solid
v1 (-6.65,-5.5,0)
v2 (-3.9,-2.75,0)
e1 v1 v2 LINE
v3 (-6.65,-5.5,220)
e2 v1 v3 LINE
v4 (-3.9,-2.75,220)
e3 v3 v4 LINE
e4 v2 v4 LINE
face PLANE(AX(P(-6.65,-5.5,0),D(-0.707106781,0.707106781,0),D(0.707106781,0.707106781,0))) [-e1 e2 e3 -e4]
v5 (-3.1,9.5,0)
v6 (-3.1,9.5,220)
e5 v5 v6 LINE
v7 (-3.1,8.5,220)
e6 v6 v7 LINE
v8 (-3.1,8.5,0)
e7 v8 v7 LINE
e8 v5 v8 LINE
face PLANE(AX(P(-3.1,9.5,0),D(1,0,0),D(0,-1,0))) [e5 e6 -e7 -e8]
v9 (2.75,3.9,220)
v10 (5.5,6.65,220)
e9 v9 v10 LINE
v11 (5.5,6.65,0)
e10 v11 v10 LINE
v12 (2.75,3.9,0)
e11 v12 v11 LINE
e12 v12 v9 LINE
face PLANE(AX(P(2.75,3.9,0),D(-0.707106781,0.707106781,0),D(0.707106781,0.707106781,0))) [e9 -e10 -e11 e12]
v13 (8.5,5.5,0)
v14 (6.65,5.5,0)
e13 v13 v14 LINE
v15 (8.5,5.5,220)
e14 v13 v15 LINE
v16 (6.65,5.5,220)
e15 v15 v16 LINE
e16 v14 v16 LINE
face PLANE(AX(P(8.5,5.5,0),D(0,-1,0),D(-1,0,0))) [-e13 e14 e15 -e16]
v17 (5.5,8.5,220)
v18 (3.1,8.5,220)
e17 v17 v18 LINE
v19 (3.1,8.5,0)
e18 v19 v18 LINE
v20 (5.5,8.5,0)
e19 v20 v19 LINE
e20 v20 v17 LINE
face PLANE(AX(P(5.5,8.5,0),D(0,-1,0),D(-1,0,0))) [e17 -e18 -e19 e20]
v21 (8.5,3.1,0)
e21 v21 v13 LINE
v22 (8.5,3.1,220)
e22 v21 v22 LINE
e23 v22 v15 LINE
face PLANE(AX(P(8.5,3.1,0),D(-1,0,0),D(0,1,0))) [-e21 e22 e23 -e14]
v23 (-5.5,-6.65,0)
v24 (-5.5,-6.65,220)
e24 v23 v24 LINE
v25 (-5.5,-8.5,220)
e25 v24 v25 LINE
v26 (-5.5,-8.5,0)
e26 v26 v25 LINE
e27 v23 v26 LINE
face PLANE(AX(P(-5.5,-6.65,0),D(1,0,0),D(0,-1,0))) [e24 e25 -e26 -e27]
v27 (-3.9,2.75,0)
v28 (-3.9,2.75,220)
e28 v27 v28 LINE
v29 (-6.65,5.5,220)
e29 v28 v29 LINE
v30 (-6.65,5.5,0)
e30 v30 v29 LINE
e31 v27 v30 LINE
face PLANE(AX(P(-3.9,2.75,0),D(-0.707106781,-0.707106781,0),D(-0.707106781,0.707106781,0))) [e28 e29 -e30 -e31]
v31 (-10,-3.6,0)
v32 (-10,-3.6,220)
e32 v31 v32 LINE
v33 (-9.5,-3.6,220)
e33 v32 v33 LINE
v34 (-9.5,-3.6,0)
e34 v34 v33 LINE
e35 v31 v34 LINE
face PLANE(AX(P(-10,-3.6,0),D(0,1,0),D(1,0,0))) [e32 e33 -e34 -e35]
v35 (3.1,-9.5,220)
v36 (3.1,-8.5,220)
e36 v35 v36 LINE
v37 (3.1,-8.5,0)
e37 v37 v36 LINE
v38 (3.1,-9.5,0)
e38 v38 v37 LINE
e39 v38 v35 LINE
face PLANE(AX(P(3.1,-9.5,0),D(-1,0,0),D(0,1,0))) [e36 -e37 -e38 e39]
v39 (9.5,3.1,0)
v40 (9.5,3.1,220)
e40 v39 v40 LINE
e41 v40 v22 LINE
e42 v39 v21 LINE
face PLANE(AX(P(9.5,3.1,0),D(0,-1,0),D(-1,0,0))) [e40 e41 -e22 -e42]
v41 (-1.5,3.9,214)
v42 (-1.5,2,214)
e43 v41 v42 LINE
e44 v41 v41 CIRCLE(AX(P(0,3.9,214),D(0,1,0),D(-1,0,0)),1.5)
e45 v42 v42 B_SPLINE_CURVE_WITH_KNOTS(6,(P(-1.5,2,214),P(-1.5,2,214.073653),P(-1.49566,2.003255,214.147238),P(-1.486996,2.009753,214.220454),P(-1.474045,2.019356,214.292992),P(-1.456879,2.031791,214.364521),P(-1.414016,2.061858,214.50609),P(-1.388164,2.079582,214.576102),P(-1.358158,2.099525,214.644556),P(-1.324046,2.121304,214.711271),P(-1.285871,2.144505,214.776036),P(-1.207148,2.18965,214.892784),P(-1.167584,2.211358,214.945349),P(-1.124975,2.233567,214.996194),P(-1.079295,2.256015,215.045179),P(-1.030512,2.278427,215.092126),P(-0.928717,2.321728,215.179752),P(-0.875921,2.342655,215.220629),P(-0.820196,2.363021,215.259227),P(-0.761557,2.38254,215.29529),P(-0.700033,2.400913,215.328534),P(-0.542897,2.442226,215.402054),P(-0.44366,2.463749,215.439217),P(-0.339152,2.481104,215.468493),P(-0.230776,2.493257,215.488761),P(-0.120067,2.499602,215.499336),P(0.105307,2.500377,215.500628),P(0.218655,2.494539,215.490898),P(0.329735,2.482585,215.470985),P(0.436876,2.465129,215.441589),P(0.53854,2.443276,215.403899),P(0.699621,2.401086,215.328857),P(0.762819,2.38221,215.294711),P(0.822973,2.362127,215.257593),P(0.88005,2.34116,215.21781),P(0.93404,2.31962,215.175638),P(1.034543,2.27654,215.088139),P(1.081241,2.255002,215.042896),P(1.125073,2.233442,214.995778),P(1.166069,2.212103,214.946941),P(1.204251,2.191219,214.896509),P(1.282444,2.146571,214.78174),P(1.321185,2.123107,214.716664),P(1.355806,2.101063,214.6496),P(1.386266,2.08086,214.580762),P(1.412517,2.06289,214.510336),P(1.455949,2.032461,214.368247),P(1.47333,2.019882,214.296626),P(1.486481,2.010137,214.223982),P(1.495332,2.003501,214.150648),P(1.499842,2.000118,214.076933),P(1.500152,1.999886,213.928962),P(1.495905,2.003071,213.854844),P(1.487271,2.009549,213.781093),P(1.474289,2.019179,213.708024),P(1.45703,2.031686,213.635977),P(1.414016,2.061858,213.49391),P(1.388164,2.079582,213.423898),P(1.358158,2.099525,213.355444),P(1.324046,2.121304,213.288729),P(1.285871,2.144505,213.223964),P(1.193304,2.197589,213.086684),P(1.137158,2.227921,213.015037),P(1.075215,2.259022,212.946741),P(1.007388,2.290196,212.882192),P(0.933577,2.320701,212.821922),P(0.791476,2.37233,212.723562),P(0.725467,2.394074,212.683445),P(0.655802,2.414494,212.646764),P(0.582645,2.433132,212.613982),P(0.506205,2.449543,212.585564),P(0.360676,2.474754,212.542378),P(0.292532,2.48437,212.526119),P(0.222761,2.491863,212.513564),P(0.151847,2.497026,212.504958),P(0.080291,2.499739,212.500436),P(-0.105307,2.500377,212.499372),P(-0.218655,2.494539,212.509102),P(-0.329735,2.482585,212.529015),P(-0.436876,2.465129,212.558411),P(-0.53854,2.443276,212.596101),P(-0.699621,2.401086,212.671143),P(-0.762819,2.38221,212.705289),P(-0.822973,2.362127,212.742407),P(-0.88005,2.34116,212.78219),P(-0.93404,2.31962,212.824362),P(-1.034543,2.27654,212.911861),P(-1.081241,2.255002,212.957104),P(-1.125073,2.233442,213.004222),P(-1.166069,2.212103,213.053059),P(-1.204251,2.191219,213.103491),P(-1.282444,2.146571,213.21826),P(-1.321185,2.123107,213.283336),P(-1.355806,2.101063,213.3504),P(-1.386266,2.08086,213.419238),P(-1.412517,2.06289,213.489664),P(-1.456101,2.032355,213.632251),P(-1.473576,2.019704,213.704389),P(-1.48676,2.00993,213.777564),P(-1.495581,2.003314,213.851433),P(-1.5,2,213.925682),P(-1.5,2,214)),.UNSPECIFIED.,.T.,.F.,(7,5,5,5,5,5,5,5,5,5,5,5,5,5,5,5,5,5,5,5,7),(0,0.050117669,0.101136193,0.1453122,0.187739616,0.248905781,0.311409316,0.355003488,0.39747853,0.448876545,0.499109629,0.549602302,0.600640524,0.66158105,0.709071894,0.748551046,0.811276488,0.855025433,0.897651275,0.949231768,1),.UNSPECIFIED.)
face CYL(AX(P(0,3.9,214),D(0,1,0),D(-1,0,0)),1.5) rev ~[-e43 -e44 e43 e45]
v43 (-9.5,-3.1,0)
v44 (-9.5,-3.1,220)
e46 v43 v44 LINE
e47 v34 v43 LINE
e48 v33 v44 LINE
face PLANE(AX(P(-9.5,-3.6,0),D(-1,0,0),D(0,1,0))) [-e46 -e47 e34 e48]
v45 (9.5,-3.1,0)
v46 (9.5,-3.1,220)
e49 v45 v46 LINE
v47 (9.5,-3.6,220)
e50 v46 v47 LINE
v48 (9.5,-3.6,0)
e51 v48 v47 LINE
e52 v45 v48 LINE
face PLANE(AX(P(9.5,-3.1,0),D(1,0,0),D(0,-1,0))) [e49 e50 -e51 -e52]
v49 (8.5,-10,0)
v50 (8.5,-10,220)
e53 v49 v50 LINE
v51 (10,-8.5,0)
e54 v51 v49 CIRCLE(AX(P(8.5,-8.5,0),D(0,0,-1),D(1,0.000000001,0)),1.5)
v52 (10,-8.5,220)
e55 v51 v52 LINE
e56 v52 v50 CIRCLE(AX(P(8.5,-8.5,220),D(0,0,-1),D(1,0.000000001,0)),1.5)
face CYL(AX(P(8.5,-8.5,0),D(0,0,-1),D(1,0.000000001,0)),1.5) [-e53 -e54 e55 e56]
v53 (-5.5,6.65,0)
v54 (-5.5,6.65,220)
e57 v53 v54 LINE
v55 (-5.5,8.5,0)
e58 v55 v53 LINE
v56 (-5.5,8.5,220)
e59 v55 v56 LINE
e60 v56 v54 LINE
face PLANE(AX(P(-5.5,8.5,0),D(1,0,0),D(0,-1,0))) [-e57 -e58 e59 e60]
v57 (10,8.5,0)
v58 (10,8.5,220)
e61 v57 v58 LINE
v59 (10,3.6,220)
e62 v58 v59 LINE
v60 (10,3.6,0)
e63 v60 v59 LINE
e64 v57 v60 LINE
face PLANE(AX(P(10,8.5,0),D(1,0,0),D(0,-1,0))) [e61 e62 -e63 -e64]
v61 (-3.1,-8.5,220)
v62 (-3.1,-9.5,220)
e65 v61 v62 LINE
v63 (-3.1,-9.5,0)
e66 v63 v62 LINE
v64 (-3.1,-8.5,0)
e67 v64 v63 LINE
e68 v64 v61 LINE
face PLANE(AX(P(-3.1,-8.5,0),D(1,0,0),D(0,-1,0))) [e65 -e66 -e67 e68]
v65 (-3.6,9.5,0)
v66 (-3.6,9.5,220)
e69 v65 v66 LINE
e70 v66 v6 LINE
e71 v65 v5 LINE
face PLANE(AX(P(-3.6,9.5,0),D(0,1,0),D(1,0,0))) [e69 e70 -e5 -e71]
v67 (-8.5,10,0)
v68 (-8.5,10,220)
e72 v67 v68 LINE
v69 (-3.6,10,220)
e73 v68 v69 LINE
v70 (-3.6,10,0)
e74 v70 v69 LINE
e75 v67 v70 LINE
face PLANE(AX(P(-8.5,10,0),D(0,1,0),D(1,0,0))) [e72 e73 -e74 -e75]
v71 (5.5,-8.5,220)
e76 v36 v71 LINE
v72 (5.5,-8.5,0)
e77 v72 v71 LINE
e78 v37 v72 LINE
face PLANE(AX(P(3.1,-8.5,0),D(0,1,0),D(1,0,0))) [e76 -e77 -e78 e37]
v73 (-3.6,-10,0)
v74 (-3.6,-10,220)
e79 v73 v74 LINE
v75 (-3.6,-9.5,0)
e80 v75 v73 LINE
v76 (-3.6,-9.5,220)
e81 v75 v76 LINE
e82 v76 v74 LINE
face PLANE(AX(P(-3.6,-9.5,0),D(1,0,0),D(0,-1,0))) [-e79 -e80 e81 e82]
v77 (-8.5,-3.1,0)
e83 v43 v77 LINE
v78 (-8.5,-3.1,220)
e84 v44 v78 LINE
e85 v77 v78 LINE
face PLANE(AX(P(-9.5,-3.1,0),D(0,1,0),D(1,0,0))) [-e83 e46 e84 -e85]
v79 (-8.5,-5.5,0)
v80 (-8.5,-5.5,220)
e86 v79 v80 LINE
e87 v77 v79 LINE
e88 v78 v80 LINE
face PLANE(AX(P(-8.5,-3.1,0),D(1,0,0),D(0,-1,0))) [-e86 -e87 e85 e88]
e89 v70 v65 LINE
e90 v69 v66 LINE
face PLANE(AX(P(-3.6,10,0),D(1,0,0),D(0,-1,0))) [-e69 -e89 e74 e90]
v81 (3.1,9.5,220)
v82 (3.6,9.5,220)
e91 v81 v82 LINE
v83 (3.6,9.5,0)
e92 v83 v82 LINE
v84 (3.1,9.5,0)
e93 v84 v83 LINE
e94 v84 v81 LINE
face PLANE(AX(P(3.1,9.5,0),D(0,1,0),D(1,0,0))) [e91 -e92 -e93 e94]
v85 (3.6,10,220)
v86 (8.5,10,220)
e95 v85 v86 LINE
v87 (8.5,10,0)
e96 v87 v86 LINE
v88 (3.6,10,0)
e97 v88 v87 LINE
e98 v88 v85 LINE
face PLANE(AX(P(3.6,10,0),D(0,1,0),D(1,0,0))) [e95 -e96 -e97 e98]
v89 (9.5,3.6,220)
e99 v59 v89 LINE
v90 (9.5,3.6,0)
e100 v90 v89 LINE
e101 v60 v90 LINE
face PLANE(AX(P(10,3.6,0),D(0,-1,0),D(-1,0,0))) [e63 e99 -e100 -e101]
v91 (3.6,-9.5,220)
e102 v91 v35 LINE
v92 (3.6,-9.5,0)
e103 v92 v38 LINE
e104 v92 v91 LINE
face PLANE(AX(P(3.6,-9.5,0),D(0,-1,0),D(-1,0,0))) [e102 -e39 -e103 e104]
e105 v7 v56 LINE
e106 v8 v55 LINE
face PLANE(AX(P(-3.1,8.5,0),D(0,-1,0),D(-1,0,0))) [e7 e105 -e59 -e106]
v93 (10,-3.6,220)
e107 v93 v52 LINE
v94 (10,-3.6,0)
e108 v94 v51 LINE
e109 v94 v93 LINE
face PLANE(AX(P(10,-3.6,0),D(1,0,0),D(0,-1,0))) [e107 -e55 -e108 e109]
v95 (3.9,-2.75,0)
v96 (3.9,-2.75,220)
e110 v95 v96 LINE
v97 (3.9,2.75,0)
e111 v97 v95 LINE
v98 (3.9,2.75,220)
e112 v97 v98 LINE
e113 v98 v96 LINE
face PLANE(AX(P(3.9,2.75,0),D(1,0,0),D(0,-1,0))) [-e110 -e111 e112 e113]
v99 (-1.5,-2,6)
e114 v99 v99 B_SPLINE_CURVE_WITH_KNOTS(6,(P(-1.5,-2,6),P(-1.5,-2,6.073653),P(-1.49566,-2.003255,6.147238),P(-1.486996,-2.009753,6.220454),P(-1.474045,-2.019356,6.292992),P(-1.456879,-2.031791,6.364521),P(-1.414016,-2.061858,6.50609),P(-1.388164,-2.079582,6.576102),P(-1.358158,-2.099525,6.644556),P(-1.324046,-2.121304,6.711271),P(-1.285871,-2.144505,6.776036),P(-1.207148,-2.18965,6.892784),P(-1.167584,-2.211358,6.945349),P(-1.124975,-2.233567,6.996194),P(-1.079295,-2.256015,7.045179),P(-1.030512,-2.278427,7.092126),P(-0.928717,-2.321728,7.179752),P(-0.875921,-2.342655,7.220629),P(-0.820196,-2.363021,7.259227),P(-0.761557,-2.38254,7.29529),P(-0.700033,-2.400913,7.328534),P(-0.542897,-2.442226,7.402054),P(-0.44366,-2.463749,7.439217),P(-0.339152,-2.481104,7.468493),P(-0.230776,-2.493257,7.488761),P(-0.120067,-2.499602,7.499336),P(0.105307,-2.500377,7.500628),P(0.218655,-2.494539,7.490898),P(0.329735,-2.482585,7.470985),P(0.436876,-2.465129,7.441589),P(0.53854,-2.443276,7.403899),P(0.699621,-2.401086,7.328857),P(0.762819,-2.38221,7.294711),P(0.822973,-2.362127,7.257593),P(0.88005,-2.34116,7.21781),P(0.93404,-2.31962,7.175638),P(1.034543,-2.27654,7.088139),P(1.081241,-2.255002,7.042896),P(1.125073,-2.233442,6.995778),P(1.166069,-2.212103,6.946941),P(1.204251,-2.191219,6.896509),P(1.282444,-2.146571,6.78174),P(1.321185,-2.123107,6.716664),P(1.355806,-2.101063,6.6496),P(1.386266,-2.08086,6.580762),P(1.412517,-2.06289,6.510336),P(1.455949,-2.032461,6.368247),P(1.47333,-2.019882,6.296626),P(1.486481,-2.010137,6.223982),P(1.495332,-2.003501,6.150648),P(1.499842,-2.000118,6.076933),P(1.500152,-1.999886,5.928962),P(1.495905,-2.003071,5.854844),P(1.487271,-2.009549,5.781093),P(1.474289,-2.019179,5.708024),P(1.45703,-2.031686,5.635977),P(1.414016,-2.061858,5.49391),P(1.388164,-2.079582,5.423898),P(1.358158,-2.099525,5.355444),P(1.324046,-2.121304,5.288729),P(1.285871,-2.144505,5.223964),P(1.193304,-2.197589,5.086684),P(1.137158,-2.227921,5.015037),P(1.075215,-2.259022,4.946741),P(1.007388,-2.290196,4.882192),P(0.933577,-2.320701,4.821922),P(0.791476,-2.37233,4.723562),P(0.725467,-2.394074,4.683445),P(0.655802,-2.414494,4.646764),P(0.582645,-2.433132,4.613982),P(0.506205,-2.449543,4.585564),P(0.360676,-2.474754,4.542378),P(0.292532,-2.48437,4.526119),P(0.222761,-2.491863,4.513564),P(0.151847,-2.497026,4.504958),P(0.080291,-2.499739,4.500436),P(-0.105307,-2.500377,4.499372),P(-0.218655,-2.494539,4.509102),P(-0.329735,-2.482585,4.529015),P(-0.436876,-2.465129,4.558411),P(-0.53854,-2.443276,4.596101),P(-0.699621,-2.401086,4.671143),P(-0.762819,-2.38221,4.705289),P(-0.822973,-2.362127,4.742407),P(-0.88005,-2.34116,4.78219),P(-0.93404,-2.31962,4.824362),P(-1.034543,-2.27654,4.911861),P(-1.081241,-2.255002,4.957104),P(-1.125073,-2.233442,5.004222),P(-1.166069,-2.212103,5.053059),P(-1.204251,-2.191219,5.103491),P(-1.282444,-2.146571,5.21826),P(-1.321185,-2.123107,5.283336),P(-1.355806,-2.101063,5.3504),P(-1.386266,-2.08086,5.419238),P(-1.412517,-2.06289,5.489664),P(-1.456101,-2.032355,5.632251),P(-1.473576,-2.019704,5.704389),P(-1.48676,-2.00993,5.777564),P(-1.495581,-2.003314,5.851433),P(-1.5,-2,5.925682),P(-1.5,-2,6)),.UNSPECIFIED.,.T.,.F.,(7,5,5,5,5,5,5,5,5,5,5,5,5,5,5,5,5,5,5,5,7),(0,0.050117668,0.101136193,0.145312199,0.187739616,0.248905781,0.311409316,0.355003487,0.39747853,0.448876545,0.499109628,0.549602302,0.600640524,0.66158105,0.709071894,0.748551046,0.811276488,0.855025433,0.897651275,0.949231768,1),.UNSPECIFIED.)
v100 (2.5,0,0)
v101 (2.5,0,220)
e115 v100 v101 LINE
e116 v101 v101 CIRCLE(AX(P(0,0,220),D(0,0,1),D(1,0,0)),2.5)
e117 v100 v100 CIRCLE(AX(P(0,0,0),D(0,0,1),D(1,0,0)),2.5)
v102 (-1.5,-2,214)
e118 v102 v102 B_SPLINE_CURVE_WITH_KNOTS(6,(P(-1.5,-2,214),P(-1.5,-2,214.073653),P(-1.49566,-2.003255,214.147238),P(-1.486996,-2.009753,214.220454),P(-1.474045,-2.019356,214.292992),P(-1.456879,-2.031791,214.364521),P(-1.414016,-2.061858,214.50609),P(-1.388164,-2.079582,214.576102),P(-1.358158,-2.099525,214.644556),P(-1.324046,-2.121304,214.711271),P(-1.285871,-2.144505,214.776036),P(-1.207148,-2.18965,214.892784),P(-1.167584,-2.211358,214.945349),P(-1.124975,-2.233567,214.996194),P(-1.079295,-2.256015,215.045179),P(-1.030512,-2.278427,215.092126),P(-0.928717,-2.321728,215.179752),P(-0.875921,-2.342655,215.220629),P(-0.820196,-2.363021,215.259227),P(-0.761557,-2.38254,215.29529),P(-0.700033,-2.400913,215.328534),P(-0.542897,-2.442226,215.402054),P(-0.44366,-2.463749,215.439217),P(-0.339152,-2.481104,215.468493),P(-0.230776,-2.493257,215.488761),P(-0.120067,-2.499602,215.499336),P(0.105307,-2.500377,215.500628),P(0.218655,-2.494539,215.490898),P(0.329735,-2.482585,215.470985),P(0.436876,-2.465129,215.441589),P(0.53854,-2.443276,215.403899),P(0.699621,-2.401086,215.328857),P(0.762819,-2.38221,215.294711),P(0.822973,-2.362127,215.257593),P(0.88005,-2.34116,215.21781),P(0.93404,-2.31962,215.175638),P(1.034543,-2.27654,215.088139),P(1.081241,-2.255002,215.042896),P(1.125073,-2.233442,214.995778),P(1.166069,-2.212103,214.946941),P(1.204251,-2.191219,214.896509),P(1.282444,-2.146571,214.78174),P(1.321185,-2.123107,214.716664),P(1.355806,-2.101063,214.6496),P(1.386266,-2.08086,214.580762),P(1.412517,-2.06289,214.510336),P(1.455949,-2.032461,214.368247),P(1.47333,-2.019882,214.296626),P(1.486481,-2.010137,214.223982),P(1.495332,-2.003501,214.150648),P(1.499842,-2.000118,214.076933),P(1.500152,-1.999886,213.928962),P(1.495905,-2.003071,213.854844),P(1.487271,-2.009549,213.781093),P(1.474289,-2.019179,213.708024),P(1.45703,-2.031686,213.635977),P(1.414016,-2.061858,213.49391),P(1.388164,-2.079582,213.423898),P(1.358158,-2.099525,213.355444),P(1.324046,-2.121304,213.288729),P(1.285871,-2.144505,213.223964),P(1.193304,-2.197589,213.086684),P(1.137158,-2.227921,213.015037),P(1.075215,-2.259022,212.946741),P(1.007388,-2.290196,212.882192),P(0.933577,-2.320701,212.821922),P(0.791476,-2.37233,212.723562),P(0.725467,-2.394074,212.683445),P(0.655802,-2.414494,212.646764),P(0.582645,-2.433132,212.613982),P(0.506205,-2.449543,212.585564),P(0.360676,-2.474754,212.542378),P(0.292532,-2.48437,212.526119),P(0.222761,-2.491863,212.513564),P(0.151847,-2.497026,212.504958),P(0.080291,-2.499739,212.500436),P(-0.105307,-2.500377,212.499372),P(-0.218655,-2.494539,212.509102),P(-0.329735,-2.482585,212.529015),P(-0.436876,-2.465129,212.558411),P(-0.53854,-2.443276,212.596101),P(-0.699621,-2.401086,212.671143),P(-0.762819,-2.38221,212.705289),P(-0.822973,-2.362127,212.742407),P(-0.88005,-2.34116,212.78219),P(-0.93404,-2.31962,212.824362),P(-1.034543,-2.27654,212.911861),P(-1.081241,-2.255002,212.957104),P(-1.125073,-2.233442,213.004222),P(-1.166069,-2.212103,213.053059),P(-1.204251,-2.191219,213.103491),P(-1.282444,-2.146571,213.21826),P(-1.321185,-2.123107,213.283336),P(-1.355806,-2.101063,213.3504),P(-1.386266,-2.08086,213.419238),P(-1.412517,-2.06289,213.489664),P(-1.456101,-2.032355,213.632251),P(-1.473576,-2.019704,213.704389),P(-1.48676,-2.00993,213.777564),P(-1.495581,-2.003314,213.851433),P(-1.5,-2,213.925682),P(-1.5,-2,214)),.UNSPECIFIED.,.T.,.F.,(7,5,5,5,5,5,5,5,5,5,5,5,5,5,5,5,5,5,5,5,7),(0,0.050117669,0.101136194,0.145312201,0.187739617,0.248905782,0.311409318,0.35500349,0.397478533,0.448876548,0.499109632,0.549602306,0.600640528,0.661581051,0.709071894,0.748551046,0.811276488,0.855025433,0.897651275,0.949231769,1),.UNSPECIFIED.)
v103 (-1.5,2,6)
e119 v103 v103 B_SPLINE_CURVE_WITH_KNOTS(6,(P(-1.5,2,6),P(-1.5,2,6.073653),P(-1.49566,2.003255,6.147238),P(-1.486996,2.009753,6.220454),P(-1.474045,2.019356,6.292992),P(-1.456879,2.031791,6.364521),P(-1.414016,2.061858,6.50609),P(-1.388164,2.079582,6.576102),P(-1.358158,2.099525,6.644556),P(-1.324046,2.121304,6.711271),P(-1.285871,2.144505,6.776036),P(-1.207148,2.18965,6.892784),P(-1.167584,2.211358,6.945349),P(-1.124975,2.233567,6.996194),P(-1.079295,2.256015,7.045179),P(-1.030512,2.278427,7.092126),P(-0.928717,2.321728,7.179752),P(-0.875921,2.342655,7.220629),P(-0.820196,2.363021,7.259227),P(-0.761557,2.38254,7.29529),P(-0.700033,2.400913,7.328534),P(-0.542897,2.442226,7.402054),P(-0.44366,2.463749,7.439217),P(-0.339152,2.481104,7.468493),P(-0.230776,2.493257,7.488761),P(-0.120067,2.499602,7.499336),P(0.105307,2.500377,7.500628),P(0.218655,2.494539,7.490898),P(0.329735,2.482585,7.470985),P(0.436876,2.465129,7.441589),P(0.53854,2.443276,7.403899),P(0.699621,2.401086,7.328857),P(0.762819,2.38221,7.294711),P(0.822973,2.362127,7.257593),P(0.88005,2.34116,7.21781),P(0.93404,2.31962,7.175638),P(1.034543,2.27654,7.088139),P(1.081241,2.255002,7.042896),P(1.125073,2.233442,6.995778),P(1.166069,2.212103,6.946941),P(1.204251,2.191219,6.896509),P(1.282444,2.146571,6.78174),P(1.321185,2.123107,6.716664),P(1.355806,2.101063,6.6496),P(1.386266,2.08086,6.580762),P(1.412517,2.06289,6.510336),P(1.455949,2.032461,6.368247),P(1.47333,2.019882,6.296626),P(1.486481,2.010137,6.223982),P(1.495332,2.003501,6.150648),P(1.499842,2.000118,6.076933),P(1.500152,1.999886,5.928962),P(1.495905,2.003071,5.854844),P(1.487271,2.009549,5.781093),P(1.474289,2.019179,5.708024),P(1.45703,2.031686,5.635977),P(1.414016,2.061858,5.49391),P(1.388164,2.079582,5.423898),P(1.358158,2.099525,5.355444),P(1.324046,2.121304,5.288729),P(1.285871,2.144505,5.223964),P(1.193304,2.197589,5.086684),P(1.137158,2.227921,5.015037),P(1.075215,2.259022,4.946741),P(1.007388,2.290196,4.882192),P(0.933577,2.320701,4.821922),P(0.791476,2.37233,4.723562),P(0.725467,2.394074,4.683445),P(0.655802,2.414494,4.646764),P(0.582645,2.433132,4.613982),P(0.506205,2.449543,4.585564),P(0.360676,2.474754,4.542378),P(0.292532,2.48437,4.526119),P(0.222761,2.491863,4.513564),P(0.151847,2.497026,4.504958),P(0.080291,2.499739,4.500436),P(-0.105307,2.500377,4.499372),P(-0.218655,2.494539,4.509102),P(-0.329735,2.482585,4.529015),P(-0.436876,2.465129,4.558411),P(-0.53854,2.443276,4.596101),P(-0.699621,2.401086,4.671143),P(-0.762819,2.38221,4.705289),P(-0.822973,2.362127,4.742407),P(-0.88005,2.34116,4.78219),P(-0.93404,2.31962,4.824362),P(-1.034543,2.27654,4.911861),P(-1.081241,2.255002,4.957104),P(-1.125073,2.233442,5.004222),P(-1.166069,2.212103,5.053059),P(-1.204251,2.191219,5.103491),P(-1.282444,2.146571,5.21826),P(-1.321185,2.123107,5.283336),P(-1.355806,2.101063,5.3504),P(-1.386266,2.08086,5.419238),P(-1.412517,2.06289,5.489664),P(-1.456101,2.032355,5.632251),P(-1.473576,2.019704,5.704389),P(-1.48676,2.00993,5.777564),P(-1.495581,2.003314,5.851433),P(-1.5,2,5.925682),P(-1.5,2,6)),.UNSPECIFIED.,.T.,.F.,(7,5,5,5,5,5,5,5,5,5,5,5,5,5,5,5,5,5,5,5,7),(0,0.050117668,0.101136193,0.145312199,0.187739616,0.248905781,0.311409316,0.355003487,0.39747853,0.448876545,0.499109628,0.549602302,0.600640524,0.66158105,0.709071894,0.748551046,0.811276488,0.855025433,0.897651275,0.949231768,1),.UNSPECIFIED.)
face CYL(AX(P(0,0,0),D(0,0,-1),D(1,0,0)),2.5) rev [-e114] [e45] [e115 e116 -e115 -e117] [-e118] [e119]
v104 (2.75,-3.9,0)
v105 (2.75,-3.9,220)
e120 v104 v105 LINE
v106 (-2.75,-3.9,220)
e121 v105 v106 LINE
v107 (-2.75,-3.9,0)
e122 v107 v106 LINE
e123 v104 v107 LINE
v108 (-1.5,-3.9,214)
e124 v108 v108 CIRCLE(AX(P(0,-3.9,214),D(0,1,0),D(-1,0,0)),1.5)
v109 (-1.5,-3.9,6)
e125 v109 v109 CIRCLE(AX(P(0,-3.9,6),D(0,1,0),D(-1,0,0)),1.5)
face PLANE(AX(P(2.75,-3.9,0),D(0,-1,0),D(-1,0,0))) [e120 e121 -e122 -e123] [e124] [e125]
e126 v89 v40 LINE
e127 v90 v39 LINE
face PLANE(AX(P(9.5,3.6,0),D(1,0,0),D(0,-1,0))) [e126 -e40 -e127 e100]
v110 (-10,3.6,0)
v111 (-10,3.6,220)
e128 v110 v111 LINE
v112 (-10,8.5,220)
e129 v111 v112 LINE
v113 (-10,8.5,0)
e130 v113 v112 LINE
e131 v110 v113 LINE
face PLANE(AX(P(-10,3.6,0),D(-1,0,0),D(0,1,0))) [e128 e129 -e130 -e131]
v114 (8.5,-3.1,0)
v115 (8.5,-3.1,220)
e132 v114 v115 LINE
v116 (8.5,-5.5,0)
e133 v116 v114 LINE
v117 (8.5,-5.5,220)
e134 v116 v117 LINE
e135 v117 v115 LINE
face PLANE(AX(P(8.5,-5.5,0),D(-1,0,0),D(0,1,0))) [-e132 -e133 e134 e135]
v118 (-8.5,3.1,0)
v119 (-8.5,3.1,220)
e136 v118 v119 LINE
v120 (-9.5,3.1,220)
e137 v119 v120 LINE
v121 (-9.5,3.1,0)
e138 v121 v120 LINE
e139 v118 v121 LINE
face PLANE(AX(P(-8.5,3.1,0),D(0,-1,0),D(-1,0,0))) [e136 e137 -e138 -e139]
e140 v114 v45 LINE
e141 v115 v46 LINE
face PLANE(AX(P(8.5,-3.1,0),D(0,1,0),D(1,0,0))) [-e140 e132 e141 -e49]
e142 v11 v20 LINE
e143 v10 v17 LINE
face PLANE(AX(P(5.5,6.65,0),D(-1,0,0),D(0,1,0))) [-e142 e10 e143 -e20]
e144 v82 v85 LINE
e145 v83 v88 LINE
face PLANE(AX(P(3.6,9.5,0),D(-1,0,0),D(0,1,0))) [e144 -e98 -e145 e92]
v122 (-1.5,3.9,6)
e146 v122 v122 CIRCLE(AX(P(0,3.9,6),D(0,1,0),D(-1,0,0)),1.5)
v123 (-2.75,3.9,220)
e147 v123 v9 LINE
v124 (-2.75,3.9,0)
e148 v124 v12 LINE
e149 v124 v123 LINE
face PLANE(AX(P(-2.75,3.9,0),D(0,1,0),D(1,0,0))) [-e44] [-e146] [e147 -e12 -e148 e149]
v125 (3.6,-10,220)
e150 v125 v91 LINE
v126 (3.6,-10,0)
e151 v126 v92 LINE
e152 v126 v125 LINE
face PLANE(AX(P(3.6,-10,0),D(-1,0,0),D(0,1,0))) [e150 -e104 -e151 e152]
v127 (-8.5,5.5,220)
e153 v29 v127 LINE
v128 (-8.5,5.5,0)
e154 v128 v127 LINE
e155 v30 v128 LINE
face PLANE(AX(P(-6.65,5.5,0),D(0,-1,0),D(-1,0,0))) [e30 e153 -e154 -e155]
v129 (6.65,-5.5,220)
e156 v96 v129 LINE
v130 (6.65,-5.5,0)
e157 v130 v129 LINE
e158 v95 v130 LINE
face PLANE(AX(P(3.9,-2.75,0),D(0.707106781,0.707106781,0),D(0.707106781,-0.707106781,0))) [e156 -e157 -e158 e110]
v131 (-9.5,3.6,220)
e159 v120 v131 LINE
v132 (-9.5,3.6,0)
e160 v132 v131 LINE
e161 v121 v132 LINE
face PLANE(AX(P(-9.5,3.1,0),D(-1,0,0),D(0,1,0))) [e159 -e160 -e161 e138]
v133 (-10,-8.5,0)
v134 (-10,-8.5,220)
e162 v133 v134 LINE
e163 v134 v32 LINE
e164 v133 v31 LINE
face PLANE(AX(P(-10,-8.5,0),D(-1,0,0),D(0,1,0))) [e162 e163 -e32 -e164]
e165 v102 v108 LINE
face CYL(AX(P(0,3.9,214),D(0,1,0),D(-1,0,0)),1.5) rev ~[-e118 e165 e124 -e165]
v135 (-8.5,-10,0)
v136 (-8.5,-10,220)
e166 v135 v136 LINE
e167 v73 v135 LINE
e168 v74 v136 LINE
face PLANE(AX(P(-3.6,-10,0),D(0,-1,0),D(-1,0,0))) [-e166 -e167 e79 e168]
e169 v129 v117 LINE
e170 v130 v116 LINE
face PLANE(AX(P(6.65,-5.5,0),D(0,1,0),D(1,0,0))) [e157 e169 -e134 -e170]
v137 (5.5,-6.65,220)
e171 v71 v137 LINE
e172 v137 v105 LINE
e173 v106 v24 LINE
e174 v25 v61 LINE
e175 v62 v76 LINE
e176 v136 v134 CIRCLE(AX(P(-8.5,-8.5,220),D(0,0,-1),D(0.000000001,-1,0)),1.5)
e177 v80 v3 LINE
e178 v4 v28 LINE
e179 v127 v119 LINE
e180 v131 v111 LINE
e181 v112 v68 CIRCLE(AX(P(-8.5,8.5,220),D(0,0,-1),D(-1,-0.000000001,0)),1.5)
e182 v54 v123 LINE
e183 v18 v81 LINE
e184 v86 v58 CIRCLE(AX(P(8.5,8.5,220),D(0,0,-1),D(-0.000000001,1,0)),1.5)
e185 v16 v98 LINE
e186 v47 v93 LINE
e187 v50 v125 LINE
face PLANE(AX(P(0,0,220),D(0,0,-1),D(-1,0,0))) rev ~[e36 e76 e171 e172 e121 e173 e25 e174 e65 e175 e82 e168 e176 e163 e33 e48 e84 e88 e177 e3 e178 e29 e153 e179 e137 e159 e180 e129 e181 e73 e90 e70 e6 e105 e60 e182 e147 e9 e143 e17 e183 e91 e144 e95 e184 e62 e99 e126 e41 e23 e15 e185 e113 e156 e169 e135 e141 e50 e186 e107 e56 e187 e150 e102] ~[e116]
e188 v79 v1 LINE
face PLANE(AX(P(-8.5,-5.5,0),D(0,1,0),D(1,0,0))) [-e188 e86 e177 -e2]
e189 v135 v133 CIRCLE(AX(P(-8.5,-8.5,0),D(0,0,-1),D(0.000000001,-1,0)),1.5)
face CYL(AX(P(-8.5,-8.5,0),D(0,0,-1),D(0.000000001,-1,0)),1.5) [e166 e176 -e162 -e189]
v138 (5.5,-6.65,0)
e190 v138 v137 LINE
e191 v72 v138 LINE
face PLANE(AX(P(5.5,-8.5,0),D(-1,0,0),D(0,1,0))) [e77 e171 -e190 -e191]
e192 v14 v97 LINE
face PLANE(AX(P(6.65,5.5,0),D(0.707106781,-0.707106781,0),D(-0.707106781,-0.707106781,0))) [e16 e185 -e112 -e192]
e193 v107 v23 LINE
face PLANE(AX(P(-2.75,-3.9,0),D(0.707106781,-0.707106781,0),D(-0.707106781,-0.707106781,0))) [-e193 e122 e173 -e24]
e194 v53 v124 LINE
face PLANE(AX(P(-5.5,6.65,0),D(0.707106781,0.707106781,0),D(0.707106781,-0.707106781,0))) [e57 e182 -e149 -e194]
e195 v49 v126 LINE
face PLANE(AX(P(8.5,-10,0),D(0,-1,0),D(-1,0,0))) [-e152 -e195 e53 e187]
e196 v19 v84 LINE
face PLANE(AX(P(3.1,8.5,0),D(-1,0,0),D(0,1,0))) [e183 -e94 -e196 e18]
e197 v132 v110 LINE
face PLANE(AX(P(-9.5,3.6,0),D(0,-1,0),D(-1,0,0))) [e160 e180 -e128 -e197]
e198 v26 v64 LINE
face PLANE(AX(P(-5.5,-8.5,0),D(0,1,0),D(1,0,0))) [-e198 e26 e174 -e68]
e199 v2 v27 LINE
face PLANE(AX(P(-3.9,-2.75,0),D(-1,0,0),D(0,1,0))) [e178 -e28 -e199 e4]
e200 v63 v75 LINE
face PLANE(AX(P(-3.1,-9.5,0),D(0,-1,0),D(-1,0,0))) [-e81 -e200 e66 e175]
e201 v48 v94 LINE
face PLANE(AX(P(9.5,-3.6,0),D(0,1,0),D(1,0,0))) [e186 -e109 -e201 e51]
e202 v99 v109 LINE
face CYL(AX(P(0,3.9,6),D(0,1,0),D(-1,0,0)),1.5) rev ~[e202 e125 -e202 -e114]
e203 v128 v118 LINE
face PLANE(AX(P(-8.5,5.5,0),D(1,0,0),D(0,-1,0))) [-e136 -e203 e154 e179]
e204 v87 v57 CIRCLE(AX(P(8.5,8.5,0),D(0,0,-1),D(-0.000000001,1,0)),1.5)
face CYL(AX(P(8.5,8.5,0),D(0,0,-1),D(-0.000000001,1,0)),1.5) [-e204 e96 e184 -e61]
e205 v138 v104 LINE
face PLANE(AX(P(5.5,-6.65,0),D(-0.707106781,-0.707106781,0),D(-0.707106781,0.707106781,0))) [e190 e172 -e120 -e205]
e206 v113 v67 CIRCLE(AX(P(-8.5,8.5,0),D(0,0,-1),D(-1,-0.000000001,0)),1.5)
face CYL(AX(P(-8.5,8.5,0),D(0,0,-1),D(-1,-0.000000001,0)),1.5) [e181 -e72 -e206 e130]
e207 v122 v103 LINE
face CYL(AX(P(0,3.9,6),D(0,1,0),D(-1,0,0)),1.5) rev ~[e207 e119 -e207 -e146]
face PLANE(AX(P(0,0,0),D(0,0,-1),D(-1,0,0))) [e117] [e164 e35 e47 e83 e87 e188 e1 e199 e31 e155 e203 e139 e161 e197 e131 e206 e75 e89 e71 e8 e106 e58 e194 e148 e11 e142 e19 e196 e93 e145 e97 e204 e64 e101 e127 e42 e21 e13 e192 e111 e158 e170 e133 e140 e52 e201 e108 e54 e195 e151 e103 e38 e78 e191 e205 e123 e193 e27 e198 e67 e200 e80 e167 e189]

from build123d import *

# Parameters (mm, degrees)
SKETCH1_R           = 2.5
EXTRUDE_1_DEPTH     = 220
SKETCH_1_R          = 1.5
CUT_EXTRUDE_1_DEPTH = 221.665380157


with BuildPart() as part:
    # Sketch1 → 凸台-拉伸1 (new body)
    with BuildSketch(Plane.XY):
        with BuildLine():
            Line((-3.6, 10), (-3.6, 9.5))
            Line((-3.6, 9.5), (-3.1, 9.5))
            Line((-3.1, 9.5), (-3.1, 8.5))
            Line((-3.1, 8.5), (-5.5, 8.5))
            Line((-5.5, 8.5), (-5.5, 6.65))
            Line((-5.5, 6.65), (-2.75, 3.9))
            Line((-2.75, 3.9), (2.75, 3.9))
            Line((2.75, 3.9), (5.5, 6.65))
            Line((5.5, 6.65), (5.5, 8.5))
            Line((5.5, 8.5), (3.1, 8.5))
            Line((3.1, 8.5), (3.1, 9.5))
            Line((3.1, 9.5), (3.6, 9.5))
            Line((3.6, 9.5), (3.6, 10))
            Line((3.6, 10), (8.5, 10))
            ThreePointArc((8.5, 10), (9.560660172, 9.560660172), (10, 8.5))
            Line((10, 8.5), (10, 3.6))
            Line((10, 3.6), (9.5, 3.6))
            Line((9.5, 3.6), (9.5, 3.1))
            Line((9.5, 3.1), (8.5, 3.1))
            Line((8.5, 3.1), (8.5, 5.5))
            Line((8.5, 5.5), (6.65, 5.5))
            Line((6.65, 5.5), (3.9, 2.75))
            Line((3.9, 2.75), (3.9, -2.75))
            Line((3.9, -2.75), (6.65, -5.5))
            Line((6.65, -5.5), (8.5, -5.5))
            Line((8.5, -5.5), (8.5, -3.1))
            Line((8.5, -3.1), (9.5, -3.1))
            Line((9.5, -3.1), (9.5, -3.6))
            Line((9.5, -3.6), (10, -3.6))
            Line((10, -3.6), (10, -8.5))
            ThreePointArc((10, -8.5), (9.560660172, -9.560660172), (8.5, -10))
            Line((8.5, -10), (3.6, -10))
            Line((3.6, -10), (3.6, -9.5))
            Line((3.6, -9.5), (3.1, -9.5))
            Line((3.1, -9.5), (3.1, -8.5))
            Line((3.1, -8.5), (5.5, -8.5))
            Line((5.5, -8.5), (5.5, -6.65))
            Line((5.5, -6.65), (2.75, -3.9))
            Line((2.75, -3.9), (-2.75, -3.9))
            Line((-2.75, -3.9), (-5.5, -6.65))
            Line((-5.5, -6.65), (-5.5, -8.5))
            Line((-5.5, -8.5), (-3.1, -8.5))
            Line((-3.1, -8.5), (-3.1, -9.5))
            Line((-3.1, -9.5), (-3.6, -9.5))
            Line((-3.6, -9.5), (-3.6, -10))
            Line((-3.6, -10), (-8.5, -10))
            ThreePointArc((-8.5, -10), (-9.560660172, -9.560660172), (-10, -8.5))
            Line((-10, -8.5), (-10, -3.6))
            Line((-10, -3.6), (-9.5, -3.6))
            Line((-9.5, -3.6), (-9.5, -3.1))
            Line((-9.5, -3.1), (-8.5, -3.1))
            Line((-8.5, -3.1), (-8.5, -5.5))
            Line((-8.5, -5.5), (-6.65, -5.5))
            Line((-6.65, -5.5), (-3.9, -2.75))
            Line((-3.9, -2.75), (-3.9, 2.75))
            Line((-3.9, 2.75), (-6.65, 5.5))
            Line((-6.65, 5.5), (-8.5, 5.5))
            Line((-8.5, 5.5), (-8.5, 3.1))
            Line((-8.5, 3.1), (-9.5, 3.1))
            Line((-9.5, 3.1), (-9.5, 3.6))
            Line((-9.5, 3.6), (-10, 3.6))
            Line((-10, 3.6), (-10, 8.5))
            ThreePointArc((-10, 8.5), (-9.560660172, 9.560660172), (-8.5, 10))
            Line((-8.5, 10), (-3.6, 10))
        make_face()
        Circle(SKETCH1_R, mode=Mode.SUBTRACT)
    extrude(amount=EXTRUDE_1_DEPTH)

    # 草图1 → 切除-拉伸1 (cut, through all)
    with BuildSketch(Plane(origin=(0, 3.9, 0), x_dir=(1, 0, 0), z_dir=(0, 1, 0))):
        with Locations(Location((0, -214, 0), (0, 0, 180))):
            Circle(SKETCH_1_R)
        with Locations(Location((0, -6, 0), (0, 0, 180))):
            Circle(SKETCH_1_R)
    extrude(amount=-CUT_EXTRUDE_1_DEPTH, mode=Mode.SUBTRACT)


solid = part.part
